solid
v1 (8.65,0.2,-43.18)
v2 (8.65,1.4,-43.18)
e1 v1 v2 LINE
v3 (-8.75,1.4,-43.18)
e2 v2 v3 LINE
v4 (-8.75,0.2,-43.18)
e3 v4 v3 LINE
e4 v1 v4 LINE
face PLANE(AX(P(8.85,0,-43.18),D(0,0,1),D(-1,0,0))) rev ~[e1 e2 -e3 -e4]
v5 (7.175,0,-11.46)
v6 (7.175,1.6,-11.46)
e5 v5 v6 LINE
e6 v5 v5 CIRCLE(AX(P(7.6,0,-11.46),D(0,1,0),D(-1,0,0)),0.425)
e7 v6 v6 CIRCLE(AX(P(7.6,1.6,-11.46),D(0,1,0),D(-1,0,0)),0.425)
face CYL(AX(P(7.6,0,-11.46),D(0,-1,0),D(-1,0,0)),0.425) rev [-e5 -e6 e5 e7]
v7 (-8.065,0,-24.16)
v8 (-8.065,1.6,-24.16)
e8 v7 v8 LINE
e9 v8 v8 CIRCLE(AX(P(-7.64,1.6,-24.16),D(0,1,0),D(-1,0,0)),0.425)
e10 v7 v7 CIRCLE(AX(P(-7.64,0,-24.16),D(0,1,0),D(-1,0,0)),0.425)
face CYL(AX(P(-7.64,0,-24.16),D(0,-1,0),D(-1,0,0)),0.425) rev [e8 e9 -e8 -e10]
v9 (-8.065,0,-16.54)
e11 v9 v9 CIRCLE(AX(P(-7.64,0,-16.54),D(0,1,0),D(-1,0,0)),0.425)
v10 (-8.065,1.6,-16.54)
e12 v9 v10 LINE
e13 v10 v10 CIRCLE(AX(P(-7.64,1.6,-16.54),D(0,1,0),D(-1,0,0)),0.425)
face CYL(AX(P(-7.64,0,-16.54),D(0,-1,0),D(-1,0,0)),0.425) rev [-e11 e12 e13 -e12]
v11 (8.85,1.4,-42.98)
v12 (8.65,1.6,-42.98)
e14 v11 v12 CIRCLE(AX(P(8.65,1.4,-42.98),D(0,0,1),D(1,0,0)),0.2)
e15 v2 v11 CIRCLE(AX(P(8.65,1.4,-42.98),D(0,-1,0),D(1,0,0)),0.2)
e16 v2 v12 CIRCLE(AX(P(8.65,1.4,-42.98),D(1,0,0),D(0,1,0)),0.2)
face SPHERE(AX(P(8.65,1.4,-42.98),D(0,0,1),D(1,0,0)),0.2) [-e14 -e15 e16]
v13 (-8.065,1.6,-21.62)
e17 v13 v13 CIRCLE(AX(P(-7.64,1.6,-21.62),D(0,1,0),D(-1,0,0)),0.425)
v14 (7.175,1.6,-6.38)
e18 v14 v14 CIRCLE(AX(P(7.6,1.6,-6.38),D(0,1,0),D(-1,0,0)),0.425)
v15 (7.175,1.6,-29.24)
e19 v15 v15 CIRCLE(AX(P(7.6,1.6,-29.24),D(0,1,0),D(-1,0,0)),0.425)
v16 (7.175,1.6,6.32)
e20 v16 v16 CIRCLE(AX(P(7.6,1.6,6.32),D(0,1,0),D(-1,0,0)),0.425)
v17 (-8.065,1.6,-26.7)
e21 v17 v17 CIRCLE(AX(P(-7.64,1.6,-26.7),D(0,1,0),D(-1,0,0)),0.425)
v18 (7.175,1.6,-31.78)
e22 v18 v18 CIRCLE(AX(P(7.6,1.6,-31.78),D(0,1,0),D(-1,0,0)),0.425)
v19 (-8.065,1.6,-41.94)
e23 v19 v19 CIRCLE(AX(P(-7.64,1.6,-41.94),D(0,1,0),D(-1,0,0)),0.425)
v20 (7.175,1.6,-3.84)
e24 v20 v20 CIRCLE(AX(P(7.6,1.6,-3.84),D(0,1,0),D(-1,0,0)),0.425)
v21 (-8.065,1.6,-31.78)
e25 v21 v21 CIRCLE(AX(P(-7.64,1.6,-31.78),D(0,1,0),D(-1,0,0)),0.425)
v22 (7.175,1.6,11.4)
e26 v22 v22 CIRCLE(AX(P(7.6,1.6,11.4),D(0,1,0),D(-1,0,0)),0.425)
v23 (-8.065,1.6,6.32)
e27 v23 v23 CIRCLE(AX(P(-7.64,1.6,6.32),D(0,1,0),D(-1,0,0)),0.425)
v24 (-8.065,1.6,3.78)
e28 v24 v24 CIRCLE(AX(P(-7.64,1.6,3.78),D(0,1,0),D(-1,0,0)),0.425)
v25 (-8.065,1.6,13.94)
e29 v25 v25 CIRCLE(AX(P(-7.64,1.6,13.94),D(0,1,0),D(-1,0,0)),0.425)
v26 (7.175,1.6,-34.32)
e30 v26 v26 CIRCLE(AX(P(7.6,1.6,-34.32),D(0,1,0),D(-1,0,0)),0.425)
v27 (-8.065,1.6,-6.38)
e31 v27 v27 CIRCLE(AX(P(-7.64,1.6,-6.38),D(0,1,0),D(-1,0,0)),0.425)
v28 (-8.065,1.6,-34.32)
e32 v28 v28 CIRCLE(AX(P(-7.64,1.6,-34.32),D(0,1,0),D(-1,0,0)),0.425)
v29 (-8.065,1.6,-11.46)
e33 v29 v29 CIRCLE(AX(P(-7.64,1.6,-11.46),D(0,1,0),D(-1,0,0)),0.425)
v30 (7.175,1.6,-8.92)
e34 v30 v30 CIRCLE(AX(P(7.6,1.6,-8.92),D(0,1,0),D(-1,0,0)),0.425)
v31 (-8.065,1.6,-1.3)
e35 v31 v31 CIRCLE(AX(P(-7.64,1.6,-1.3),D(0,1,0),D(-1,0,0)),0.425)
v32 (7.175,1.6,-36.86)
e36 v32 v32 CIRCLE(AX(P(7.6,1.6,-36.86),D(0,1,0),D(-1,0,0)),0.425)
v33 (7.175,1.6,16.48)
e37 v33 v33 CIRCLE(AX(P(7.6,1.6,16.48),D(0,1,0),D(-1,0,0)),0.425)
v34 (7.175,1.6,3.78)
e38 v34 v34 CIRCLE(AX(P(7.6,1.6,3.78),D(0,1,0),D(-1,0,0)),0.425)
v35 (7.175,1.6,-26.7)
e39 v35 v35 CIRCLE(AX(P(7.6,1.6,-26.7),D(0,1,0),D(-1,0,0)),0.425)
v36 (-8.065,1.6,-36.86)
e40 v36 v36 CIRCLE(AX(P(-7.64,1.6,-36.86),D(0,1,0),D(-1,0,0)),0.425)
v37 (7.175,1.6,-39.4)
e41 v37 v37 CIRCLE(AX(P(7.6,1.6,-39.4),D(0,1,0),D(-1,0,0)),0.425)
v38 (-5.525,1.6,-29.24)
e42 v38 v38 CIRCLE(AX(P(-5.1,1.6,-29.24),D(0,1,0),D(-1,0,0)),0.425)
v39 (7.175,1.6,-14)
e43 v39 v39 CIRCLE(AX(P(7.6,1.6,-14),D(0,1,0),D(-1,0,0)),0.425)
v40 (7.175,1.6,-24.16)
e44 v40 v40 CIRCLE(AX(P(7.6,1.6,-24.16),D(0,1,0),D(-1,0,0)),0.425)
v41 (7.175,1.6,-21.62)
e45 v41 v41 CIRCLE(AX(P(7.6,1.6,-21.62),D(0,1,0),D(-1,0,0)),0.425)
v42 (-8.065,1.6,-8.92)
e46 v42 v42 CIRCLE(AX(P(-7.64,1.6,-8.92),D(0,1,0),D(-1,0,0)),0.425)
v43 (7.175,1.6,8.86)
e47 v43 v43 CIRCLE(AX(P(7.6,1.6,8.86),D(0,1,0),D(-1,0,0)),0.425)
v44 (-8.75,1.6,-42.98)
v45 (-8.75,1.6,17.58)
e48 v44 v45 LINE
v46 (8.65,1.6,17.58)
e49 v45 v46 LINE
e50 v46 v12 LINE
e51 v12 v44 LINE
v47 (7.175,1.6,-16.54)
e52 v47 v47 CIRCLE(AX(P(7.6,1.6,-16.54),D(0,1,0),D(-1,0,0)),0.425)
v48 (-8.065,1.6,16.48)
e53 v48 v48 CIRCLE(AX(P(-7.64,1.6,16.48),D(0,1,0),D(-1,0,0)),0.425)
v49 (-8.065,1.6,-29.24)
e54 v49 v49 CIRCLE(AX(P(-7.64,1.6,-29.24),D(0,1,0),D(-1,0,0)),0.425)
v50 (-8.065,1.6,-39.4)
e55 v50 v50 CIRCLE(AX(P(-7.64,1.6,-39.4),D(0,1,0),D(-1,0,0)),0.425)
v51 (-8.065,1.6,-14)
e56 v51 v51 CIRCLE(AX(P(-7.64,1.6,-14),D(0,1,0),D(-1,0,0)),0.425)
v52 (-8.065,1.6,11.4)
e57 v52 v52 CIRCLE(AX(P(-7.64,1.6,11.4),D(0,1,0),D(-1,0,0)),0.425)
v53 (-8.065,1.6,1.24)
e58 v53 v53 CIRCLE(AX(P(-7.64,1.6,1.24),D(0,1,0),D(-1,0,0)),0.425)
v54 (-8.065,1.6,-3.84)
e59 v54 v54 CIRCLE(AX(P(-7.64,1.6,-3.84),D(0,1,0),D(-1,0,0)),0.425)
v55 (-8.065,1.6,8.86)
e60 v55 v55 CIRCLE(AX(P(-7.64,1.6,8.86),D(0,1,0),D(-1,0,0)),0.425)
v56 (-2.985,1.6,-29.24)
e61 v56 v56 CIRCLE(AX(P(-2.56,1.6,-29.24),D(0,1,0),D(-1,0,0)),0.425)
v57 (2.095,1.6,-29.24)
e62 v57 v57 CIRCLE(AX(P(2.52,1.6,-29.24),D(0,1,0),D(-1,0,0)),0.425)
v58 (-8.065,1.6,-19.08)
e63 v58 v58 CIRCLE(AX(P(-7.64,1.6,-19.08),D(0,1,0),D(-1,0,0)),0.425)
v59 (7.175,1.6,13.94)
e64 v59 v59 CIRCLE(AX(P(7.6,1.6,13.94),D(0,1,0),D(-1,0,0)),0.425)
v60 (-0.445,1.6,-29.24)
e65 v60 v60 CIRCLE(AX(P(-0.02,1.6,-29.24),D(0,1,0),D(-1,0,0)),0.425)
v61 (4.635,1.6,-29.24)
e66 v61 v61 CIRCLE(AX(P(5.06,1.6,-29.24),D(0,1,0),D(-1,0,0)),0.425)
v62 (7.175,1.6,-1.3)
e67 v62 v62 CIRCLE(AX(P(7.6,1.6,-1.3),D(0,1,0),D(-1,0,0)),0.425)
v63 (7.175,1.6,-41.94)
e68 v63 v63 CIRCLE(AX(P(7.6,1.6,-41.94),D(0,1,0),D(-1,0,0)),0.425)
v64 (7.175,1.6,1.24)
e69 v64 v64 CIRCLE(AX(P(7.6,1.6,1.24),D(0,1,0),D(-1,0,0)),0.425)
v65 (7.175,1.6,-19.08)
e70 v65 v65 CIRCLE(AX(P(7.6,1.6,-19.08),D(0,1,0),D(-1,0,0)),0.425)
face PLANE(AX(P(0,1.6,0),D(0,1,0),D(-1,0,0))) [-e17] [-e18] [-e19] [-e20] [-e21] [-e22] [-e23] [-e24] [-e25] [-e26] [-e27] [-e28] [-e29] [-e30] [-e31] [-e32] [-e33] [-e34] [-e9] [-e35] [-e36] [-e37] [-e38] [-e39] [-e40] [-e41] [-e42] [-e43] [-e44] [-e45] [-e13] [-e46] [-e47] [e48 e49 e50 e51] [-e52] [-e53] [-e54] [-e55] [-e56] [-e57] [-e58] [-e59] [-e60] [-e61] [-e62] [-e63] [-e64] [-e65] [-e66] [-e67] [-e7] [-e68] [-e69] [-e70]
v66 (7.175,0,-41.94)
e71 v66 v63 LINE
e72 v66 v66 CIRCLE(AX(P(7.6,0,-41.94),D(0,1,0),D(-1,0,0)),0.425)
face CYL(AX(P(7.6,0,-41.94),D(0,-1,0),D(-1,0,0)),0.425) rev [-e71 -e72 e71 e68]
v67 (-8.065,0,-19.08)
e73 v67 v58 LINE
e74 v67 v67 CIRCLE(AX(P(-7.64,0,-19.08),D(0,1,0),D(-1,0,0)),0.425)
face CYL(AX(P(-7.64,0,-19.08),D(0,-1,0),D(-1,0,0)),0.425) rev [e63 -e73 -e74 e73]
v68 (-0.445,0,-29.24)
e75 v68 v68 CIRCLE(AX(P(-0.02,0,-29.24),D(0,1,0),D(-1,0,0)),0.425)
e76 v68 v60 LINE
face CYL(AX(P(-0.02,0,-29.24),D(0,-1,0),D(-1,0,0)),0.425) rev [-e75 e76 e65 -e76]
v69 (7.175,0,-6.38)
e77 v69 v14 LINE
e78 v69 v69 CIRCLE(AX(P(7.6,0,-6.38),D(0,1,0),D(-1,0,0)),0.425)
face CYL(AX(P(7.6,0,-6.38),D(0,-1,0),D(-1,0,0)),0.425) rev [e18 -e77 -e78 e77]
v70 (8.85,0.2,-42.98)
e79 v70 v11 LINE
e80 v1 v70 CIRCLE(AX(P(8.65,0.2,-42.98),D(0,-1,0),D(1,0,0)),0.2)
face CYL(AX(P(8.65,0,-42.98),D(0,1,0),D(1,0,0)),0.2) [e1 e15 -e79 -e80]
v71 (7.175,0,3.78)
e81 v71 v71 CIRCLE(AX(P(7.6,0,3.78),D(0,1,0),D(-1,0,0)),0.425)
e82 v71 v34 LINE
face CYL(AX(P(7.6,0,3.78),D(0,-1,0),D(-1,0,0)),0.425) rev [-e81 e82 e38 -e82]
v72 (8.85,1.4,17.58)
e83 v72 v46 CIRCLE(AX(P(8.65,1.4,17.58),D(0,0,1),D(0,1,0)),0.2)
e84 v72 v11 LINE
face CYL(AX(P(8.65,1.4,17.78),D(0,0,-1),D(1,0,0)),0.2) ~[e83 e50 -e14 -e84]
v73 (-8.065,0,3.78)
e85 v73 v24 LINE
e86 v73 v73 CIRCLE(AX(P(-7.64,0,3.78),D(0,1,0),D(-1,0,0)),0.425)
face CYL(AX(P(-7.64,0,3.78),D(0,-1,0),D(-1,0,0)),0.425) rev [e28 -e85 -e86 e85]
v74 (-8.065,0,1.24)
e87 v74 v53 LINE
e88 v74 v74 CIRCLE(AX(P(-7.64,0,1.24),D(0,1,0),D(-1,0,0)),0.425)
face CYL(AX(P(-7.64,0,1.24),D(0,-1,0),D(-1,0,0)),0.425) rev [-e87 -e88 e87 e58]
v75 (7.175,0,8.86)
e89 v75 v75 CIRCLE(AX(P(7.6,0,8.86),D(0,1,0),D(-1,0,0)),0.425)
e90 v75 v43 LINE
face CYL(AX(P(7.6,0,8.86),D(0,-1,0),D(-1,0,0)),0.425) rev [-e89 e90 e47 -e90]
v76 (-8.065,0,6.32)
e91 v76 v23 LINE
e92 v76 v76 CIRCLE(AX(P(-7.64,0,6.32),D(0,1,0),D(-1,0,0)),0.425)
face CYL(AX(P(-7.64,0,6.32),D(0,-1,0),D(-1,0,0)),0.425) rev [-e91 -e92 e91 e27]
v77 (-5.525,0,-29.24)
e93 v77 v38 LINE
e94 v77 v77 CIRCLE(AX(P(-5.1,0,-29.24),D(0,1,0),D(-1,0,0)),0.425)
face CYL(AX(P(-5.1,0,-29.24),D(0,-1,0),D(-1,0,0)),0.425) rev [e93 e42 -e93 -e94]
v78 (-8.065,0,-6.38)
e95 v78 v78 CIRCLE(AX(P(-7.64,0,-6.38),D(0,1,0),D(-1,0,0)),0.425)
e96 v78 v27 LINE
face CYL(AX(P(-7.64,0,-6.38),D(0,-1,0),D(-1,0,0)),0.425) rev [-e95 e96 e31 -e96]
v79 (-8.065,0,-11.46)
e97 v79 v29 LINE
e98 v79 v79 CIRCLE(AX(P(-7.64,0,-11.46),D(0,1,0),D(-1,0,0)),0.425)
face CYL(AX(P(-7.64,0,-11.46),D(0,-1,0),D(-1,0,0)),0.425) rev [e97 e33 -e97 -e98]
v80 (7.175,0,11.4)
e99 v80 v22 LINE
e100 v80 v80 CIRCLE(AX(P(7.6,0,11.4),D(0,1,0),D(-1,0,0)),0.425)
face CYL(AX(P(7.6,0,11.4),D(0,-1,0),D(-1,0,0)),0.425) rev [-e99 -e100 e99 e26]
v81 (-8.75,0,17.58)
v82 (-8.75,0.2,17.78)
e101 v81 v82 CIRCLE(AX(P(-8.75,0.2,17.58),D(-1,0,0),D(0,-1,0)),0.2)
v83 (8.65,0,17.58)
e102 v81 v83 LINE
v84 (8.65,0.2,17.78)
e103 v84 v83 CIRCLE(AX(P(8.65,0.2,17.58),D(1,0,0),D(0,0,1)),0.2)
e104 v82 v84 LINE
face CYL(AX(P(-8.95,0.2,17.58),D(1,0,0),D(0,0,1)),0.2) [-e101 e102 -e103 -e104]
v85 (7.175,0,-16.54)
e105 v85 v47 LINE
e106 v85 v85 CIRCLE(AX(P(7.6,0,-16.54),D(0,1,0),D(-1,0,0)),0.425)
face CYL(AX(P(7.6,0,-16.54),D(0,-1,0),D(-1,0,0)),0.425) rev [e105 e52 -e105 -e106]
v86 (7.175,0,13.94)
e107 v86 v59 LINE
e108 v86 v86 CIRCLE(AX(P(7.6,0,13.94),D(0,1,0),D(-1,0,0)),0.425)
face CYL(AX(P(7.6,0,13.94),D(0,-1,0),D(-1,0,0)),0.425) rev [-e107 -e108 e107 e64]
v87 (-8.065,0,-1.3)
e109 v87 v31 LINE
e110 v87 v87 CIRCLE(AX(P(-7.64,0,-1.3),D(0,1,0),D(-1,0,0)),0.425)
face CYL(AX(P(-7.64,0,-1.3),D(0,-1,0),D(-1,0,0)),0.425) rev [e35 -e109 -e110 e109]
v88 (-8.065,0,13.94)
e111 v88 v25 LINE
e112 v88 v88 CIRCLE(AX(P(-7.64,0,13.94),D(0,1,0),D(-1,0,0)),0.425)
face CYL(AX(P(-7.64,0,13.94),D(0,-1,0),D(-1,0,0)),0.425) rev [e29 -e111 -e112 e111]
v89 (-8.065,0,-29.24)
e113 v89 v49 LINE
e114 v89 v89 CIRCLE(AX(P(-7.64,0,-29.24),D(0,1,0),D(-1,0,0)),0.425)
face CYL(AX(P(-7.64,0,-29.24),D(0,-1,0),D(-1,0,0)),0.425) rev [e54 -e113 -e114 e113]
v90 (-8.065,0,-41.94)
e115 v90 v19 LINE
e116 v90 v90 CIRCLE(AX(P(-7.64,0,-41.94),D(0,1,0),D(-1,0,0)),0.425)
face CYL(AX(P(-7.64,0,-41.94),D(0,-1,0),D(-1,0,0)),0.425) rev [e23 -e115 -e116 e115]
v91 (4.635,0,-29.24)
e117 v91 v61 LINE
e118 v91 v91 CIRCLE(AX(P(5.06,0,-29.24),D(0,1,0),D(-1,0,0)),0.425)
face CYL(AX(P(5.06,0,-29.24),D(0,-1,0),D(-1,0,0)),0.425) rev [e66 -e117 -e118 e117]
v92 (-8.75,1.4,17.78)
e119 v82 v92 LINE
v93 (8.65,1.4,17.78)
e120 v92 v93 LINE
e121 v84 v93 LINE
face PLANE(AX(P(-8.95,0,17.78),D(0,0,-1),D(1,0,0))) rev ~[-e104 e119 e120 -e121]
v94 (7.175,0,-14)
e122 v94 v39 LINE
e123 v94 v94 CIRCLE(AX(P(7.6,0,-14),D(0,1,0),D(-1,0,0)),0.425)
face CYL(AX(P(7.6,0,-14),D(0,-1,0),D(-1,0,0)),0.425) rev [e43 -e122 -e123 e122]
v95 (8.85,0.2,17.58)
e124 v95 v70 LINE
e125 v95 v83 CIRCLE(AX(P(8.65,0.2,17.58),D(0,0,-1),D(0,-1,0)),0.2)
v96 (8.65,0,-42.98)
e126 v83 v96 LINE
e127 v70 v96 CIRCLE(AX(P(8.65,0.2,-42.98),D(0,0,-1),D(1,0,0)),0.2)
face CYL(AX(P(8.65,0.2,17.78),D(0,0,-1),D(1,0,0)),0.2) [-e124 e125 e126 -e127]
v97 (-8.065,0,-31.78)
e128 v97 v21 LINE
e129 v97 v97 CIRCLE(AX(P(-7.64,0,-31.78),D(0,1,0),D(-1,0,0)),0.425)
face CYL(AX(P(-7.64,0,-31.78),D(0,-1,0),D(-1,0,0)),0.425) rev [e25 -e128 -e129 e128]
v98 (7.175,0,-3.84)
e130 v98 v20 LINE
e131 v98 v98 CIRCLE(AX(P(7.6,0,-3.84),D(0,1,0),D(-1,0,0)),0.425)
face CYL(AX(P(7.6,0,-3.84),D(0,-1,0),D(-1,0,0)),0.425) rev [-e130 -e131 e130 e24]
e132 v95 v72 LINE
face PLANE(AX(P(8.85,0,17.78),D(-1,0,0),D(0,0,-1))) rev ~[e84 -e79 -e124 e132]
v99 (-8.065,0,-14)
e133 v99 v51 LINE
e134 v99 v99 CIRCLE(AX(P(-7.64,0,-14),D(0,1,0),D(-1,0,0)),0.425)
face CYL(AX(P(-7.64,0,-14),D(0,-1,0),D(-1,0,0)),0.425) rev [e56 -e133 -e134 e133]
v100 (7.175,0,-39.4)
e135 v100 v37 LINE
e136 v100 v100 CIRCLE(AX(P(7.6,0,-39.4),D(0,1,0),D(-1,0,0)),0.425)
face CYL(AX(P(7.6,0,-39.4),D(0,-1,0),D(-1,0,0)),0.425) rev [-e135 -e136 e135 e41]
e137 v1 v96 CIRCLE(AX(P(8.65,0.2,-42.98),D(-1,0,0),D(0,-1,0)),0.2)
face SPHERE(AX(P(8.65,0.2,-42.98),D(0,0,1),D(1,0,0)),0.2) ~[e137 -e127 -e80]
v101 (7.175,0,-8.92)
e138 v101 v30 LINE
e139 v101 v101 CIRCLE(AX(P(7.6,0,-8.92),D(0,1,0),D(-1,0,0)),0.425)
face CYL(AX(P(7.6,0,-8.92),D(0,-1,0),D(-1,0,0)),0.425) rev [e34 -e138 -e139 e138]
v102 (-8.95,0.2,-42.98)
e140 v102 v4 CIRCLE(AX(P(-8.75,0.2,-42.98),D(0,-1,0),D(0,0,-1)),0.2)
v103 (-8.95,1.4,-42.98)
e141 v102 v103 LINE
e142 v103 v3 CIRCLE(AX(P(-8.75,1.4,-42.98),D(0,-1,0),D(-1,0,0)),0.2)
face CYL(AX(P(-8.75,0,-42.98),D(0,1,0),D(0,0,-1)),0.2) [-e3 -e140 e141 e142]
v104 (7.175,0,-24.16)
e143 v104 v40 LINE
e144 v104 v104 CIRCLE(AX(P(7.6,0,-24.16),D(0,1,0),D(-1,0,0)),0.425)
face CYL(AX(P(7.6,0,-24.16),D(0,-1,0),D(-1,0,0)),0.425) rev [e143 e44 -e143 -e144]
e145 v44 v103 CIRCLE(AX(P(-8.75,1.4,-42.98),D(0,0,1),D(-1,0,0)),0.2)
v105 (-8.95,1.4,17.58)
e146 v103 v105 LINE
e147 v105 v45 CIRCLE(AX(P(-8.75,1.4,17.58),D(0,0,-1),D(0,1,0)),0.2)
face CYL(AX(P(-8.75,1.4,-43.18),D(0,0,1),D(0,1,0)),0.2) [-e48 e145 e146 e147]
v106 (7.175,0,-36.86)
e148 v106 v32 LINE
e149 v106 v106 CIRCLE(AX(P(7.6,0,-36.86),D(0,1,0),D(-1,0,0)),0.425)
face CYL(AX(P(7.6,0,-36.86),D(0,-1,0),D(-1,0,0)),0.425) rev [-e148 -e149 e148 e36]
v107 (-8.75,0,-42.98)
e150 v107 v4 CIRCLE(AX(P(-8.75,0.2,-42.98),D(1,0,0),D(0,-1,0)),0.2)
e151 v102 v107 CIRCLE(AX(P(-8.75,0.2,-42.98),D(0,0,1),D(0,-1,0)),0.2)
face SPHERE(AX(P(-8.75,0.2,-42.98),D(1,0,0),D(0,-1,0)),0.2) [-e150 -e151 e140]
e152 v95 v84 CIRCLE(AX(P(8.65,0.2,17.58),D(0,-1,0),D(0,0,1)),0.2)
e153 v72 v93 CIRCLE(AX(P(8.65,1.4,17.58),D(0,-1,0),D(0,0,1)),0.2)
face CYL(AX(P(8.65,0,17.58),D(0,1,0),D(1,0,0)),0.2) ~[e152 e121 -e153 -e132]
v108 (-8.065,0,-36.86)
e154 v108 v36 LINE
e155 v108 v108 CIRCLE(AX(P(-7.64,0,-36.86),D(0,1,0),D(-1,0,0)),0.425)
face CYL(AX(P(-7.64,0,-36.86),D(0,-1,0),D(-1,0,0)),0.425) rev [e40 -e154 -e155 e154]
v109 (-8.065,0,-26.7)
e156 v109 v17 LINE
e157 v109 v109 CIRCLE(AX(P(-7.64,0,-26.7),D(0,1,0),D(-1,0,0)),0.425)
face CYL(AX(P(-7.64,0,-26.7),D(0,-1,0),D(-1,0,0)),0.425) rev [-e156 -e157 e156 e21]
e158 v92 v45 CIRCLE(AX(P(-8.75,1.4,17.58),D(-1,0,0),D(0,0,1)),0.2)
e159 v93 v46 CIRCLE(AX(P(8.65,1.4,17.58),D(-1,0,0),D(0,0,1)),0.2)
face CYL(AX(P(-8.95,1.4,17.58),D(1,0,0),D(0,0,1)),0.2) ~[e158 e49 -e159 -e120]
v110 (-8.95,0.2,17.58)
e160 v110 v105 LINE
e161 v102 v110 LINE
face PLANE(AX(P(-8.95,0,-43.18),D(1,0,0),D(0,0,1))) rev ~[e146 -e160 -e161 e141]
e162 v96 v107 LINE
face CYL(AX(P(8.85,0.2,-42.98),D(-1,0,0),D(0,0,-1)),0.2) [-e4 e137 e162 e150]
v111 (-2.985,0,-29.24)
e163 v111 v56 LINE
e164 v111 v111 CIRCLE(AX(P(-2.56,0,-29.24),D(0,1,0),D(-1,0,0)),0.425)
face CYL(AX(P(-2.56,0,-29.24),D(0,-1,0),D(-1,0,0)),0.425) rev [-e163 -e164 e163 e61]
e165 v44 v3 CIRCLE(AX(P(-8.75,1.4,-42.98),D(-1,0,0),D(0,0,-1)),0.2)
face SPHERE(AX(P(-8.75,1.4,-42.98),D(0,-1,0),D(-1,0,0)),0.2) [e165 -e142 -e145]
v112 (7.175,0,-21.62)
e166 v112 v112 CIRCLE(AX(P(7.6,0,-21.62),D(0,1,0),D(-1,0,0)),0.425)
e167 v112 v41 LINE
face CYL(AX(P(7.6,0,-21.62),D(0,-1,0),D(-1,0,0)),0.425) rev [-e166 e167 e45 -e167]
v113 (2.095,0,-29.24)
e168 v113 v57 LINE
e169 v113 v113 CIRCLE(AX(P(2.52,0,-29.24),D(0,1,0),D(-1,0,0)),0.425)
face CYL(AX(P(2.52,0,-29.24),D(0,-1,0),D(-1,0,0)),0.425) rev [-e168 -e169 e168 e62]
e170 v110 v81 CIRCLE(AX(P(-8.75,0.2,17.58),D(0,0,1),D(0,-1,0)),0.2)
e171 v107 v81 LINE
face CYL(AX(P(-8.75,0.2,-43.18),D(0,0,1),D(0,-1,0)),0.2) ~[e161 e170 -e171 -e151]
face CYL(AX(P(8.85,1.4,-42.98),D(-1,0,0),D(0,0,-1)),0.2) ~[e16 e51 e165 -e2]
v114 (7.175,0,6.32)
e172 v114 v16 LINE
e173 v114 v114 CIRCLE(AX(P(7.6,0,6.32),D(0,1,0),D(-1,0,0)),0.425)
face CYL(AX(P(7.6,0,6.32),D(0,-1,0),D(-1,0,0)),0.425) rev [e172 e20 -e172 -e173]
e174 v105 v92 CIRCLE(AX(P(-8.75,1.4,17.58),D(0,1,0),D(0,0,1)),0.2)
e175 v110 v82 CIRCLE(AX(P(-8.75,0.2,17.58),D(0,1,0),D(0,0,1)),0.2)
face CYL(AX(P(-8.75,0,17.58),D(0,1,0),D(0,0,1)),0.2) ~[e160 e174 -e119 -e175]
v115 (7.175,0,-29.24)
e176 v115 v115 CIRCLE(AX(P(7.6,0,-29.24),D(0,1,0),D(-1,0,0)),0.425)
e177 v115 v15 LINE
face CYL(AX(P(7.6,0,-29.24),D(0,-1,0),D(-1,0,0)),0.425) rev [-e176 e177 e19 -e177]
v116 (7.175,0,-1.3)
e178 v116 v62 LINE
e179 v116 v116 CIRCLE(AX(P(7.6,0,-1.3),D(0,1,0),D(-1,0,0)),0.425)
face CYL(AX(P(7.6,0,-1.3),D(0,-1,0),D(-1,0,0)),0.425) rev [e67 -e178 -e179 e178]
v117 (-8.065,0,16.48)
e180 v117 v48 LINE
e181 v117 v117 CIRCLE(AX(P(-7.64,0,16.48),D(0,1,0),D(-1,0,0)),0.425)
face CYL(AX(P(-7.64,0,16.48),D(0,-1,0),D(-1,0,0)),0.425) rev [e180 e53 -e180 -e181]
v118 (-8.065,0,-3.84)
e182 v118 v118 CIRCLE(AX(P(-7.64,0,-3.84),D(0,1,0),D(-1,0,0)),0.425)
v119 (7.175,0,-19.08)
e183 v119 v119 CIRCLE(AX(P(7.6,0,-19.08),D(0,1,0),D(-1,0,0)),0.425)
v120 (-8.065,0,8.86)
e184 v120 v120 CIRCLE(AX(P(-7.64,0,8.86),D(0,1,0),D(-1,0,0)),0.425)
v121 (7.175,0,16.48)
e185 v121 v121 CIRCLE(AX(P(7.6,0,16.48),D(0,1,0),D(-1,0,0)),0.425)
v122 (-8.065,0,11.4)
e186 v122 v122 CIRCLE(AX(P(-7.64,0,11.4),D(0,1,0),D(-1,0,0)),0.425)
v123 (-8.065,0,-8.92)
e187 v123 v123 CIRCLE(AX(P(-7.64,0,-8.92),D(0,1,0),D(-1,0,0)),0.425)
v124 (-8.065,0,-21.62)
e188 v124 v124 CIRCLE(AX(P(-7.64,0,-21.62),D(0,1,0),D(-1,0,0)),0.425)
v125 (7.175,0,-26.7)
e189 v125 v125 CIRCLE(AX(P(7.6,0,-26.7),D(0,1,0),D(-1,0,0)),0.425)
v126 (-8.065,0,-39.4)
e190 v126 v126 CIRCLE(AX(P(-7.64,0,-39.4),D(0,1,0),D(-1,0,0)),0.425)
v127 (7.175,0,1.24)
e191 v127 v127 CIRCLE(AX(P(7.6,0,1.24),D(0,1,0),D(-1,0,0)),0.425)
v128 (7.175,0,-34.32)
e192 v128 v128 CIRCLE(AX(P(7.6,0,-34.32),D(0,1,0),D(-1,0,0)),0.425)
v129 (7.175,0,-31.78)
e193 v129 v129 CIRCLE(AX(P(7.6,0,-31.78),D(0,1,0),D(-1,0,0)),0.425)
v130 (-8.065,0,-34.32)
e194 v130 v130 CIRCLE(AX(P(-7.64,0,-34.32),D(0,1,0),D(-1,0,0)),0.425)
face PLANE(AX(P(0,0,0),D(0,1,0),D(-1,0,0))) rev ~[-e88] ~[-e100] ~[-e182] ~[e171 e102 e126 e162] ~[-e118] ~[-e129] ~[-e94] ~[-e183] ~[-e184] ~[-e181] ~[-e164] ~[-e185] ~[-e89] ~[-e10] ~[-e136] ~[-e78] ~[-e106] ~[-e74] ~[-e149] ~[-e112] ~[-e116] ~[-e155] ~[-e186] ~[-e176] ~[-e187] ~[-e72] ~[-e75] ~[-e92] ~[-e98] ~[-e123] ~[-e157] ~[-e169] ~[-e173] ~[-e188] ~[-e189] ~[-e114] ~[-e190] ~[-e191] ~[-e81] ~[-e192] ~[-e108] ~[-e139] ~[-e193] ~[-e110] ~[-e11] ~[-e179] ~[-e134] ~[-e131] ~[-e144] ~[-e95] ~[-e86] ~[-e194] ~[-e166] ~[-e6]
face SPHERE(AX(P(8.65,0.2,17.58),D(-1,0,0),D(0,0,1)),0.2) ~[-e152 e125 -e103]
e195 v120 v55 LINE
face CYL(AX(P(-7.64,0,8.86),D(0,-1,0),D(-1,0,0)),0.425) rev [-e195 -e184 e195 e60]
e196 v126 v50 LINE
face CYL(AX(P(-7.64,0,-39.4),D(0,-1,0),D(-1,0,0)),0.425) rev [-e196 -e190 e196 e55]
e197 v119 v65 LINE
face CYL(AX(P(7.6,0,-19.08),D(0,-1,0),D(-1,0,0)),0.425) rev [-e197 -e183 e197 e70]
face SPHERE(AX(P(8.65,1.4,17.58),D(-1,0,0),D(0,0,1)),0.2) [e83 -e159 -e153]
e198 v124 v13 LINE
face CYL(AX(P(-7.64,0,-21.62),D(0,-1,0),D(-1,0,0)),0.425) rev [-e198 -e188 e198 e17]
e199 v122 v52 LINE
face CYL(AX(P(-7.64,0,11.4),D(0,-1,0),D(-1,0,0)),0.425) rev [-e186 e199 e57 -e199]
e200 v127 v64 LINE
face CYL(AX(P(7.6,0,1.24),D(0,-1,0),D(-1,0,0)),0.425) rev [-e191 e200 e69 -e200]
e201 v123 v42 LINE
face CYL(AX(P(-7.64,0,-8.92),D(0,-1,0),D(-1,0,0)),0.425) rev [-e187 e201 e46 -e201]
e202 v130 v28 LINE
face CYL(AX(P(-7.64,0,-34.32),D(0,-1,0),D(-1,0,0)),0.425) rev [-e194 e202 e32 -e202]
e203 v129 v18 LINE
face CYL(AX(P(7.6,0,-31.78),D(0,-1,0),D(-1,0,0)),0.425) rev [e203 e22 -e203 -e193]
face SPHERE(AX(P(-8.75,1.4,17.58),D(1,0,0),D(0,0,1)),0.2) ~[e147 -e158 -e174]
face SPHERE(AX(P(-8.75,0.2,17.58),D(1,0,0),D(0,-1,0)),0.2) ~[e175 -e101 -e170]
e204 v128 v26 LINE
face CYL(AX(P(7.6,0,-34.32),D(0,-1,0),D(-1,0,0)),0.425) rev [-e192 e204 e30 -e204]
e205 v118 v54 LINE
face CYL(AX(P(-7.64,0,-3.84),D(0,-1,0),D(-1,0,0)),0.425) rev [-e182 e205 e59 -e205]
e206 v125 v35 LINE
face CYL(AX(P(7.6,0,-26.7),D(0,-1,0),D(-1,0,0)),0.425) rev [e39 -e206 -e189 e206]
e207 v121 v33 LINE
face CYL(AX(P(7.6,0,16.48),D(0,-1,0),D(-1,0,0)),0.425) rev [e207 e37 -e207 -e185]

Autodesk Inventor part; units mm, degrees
ref_plane "YZ Plane" through (0, 0, 0) normal (1, 0, 0) x (0, 1, 0)
sketch "Schizzo1" plane through (0, 0, 0) normal (0, 1, 0) x (-1, 0, 0)
  line L0 (-8.85, -43.18) -> (8.95, -43.18)
  line L1 (8.95, -43.18) -> (8.95, 17.78)
  line L2 (8.95, 17.78) -> (-8.85, 17.78)
  line L3 (-8.85, 17.78) -> (-8.85, -43.18)
  line L4 (-8.85, 17.78) -> (8.95, -43.18) construction
  line L5 (8.95, 17.78) -> (-8.85, -43.18) construction
  line L6 (8.95, 16.48) -> (-8.95, 16.48) construction
  line L7 (-7.6, 17.78) -> (-7.6, -43.18) construction
  circle A0 centre (-7.6, 16.48) radius 0.425
  circle A1 centre (-7.6, 13.94) radius 0.425
  circle A2 centre (-7.6, 11.4) radius 0.425
  circle A3 centre (-7.6, 8.86) radius 0.425
  circle A4 centre (-7.6, 6.32) radius 0.425
  circle A5 centre (-7.6, 3.78) radius 0.425
  circle A6 centre (-7.6, 1.24) radius 0.425
  circle A7 centre (-7.6, -1.3) radius 0.425
  circle A8 centre (-7.6, -3.84) radius 0.425
  circle A9 centre (-7.6, -6.38) radius 0.425
  circle A10 centre (-7.6, -8.92) radius 0.425
  circle A11 centre (-7.6, -11.46) radius 0.425
  circle A12 centre (-7.6, -14) radius 0.425
  circle A13 centre (-7.6, -16.54) radius 0.425
  circle A14 centre (-5.06, 16.48) radius 0.425
  circle A15 centre (-2.52, 16.48) radius 0.425
  circle A16 centre (0.02, 16.48) radius 0.425
  circle A17 centre (2.56, 16.48) radius 0.425
  circle A18 centre (5.1, 16.48) radius 0.425
  circle A19 centre (7.64, 16.48) radius 0.425
  circle A20 centre (7.64, 13.94) radius 0.425
  circle A21 centre (7.64, 11.4) radius 0.425
  circle A22 centre (7.64, 8.86) radius 0.425
  circle A23 centre (7.64, 6.32) radius 0.425
  circle A24 centre (7.64, 3.78) radius 0.425
  circle A25 centre (7.64, 1.24) radius 0.425
  circle A26 centre (7.64, -1.3) radius 0.425
  circle A27 centre (7.64, -3.84) radius 0.425
  circle A28 centre (7.64, -6.38) radius 0.425
  circle A29 centre (7.64, -8.92) radius 0.425
  circle A30 centre (7.64, -11.46) radius 0.425
  circle A31 centre (7.64, -14) radius 0.425
  circle A32 centre (7.64, -16.54) radius 0.425
  circle A33 centre (7.64, -19.08) radius 0.425
  circle A34 centre (7.64, -21.62) radius 0.425
  circle A35 centre (7.64, -24.16) radius 0.425
  circle A36 centre (7.64, -26.7) radius 0.425
  circle A37 centre (7.64, -29.24) radius 0.425
  circle A38 centre (7.64, -31.78) radius 0.425
  circle A39 centre (7.64, -34.32) radius 0.425
  circle A40 centre (7.64, -36.86) radius 0.425
  circle A41 centre (7.64, -39.4) radius 0.425
  circle A42 centre (7.64, -41.94) radius 0.425
  circle A43 centre (-7.6, -19.08) radius 0.425
  circle A44 centre (-7.6, -21.62) radius 0.425
  circle A45 centre (-7.6, -24.16) radius 0.425
  circle A46 centre (-7.6, -26.7) radius 0.425
  circle A47 centre (-7.6, -29.24) radius 0.425
  circle A48 centre (-7.6, -31.78) radius 0.425
  circle A49 centre (-7.6, -34.32) radius 0.425
  circle A50 centre (-7.6, -36.86) radius 0.425
  circle A51 centre (-7.6, -39.4) radius 0.425
  circle A52 centre (-7.6, -41.94) radius 0.425
  circle A53 centre (-5.06, -29.24) radius 0.425
  circle A54 centre (-2.52, -29.24) radius 0.425
  circle A55 centre (0.02, -29.24) radius 0.425
  circle A56 centre (2.56, -29.24) radius 0.425
  circle A57 centre (5.1, -29.24) radius 0.425
  point P0 (0, 0)
  point P1 (0.05, -12.7)
  dimension "d0" = 17.8
  dimension "d1" = 60.96
  dimension "d4" = 1.3
  dimension "d5" = 1.25
  dimension "d6" = 0.85
  dimension "d9" = 2.54
  dimension "d16" = 2.54
  dimension "d23" = 2.54
  dimension "d166" = 2.54
  dimension "d169" = 2.54
extrude "Estrusione2" add sketch "Schizzo1" along normal blind 1.6 contours L3 L2 L1 L0 | A14 | A15 | A16 | A17 | A18
fillet "Raccordo1" radius 0.2 12 edges at (-0.05, 0, 17.78) (-0.05, 1.6, 17.78) (8.85, 0.8, 17.78) (8.85, 0, -12.7) (8.85, 1.6, -12.7) (8.85, 0.8, -43.18) (-0.05, 0, -43.18) (-8.95, 0, -12.7) (-8.95, 0.8, -43.18) (-8.95, 0.8, 17.78) (-8.95, 1.6, -12.7) (-0.05, 1.6, -43.18)
ref_plane "Piano di lavoro1" through (0, 13.85, 0) normal (0, 1, 0) x (1, 0, 0)
sketch "Schizzo2" plane through (0, 13.85, 0) normal (0, 1, 0) x (1, 0, 0)
  line L0 (-8.9159, -19.3191) -> (-8.9159, 43.0633) construction
  line L1 (-8.9159, 43.0633) -> (8.8631, 43.0633) construction
  line L2 (8.8631, 43.0633) -> (8.8631, -19.3191) construction
  line L3 (8.8631, -19.3191) -> (-8.9159, -19.3191) construction
decal "Decalcomania1"
ref_plane "Piano di lavoro2" through (0, -10.75, 0) normal (0, -1, 0) x (1, 0, 0)
sketch "Schizzo3" plane through (0, -10.75, 0) normal (0, -1, 0) x (1, 0, 0)
  line L0 (9.0474, 17.6328) -> (9.0474, -44.6653) construction
  line L1 (9.0474, -44.6653) -> (-9.0191, -44.6653) construction
  line L2 (-9.0191, -44.6653) -> (-9.0191, 17.6328) construction
  line L3 (-9.0191, 17.6328) -> (9.0474, 17.6328) construction
  point P0 (0, 0)
decal "Decalcomania2"
sketch "Schizzo4" plane through (0, 1.6, 0) normal (0, 1, 0) x (1, 0, 0)
  circle A0 centre (7.6, 11.46) radius 0.425 projected
sketch "Schizzo5" plane through (0, 1.6, 0) normal (0, 1, 0) x (1, 0, 0)
  circle A0 centre (7.6, -1.24) radius 0.425 projected
sketch "Schizzo6" plane through (0, 1.6, 0) normal (0, 1, 0) x (1, 0, 0)
  circle A0 centre (7.6, -3.78) radius 0.425 projected
sketch "Schizzo7" plane through (0, 1.6, 0) normal (0, 1, 0) x (1, 0, 0)
  circle A0 centre (-7.64, 16.54) radius 0.425 projected
sketch "Schizzo8" plane through (0, 1.6, 0) normal (0, 1, 0) x (1, 0, 0)
  circle A0 centre (-7.64, 14) radius 0.425 projected
sketch "Schizzo9" plane through (0, 1.6, 0) normal (0, 1, 0) x (1, 0, 0)
  circle A0 centre (-7.64, 11.46) radius 0.425 projected
sketch "Sketch10" plane through (0, 0, 0) normal (0, -1, 0) x (1, 0, 0)
  circle A0 centre (7.6, -11.46) radius 0.425 projected
sketch "Schizzo11" plane through (0, 0, 0) normal (0, -1, 0) x (1, 0, 0)
  circle A0 centre (-7.64, -16.54) radius 0.425 projected
sketch "Schizzo12" plane through (0, 1.6, 0) normal (0, 1, 0) x (1, 0, 0)
  circle A0 centre (-7.64, -11.4) radius 0.425 projected
sketch "Schizzo13" plane through (0, 1.6, 0) normal (0, 1, 0) x (1, 0, 0)
  circle A0 centre (-7.64, -8.86) radius 0.425 projected
sketch "Schizzo14" plane through (0, 0, 0) normal (0, -1, 0) x (1, 0, 0)
  circle A0 centre (7.6, 1.24) radius 0.425 projected
sketch "Schizzo15" plane through (0, 0, 0) normal (0, -1, 0) x (1, 0, 0)
  circle A0 centre (7.6, 3.78) radius 0.425 projected
sketch "Sketch16" plane through (0, 0, 0) normal (0, -1, 0) x (1, 0, 0)
  point P0 (0, 0)
  point P1 (3.8313, 14.0194)
  point P2 (3.8313, 11.5063)
properties part number "101" material "Plastica ABS"
